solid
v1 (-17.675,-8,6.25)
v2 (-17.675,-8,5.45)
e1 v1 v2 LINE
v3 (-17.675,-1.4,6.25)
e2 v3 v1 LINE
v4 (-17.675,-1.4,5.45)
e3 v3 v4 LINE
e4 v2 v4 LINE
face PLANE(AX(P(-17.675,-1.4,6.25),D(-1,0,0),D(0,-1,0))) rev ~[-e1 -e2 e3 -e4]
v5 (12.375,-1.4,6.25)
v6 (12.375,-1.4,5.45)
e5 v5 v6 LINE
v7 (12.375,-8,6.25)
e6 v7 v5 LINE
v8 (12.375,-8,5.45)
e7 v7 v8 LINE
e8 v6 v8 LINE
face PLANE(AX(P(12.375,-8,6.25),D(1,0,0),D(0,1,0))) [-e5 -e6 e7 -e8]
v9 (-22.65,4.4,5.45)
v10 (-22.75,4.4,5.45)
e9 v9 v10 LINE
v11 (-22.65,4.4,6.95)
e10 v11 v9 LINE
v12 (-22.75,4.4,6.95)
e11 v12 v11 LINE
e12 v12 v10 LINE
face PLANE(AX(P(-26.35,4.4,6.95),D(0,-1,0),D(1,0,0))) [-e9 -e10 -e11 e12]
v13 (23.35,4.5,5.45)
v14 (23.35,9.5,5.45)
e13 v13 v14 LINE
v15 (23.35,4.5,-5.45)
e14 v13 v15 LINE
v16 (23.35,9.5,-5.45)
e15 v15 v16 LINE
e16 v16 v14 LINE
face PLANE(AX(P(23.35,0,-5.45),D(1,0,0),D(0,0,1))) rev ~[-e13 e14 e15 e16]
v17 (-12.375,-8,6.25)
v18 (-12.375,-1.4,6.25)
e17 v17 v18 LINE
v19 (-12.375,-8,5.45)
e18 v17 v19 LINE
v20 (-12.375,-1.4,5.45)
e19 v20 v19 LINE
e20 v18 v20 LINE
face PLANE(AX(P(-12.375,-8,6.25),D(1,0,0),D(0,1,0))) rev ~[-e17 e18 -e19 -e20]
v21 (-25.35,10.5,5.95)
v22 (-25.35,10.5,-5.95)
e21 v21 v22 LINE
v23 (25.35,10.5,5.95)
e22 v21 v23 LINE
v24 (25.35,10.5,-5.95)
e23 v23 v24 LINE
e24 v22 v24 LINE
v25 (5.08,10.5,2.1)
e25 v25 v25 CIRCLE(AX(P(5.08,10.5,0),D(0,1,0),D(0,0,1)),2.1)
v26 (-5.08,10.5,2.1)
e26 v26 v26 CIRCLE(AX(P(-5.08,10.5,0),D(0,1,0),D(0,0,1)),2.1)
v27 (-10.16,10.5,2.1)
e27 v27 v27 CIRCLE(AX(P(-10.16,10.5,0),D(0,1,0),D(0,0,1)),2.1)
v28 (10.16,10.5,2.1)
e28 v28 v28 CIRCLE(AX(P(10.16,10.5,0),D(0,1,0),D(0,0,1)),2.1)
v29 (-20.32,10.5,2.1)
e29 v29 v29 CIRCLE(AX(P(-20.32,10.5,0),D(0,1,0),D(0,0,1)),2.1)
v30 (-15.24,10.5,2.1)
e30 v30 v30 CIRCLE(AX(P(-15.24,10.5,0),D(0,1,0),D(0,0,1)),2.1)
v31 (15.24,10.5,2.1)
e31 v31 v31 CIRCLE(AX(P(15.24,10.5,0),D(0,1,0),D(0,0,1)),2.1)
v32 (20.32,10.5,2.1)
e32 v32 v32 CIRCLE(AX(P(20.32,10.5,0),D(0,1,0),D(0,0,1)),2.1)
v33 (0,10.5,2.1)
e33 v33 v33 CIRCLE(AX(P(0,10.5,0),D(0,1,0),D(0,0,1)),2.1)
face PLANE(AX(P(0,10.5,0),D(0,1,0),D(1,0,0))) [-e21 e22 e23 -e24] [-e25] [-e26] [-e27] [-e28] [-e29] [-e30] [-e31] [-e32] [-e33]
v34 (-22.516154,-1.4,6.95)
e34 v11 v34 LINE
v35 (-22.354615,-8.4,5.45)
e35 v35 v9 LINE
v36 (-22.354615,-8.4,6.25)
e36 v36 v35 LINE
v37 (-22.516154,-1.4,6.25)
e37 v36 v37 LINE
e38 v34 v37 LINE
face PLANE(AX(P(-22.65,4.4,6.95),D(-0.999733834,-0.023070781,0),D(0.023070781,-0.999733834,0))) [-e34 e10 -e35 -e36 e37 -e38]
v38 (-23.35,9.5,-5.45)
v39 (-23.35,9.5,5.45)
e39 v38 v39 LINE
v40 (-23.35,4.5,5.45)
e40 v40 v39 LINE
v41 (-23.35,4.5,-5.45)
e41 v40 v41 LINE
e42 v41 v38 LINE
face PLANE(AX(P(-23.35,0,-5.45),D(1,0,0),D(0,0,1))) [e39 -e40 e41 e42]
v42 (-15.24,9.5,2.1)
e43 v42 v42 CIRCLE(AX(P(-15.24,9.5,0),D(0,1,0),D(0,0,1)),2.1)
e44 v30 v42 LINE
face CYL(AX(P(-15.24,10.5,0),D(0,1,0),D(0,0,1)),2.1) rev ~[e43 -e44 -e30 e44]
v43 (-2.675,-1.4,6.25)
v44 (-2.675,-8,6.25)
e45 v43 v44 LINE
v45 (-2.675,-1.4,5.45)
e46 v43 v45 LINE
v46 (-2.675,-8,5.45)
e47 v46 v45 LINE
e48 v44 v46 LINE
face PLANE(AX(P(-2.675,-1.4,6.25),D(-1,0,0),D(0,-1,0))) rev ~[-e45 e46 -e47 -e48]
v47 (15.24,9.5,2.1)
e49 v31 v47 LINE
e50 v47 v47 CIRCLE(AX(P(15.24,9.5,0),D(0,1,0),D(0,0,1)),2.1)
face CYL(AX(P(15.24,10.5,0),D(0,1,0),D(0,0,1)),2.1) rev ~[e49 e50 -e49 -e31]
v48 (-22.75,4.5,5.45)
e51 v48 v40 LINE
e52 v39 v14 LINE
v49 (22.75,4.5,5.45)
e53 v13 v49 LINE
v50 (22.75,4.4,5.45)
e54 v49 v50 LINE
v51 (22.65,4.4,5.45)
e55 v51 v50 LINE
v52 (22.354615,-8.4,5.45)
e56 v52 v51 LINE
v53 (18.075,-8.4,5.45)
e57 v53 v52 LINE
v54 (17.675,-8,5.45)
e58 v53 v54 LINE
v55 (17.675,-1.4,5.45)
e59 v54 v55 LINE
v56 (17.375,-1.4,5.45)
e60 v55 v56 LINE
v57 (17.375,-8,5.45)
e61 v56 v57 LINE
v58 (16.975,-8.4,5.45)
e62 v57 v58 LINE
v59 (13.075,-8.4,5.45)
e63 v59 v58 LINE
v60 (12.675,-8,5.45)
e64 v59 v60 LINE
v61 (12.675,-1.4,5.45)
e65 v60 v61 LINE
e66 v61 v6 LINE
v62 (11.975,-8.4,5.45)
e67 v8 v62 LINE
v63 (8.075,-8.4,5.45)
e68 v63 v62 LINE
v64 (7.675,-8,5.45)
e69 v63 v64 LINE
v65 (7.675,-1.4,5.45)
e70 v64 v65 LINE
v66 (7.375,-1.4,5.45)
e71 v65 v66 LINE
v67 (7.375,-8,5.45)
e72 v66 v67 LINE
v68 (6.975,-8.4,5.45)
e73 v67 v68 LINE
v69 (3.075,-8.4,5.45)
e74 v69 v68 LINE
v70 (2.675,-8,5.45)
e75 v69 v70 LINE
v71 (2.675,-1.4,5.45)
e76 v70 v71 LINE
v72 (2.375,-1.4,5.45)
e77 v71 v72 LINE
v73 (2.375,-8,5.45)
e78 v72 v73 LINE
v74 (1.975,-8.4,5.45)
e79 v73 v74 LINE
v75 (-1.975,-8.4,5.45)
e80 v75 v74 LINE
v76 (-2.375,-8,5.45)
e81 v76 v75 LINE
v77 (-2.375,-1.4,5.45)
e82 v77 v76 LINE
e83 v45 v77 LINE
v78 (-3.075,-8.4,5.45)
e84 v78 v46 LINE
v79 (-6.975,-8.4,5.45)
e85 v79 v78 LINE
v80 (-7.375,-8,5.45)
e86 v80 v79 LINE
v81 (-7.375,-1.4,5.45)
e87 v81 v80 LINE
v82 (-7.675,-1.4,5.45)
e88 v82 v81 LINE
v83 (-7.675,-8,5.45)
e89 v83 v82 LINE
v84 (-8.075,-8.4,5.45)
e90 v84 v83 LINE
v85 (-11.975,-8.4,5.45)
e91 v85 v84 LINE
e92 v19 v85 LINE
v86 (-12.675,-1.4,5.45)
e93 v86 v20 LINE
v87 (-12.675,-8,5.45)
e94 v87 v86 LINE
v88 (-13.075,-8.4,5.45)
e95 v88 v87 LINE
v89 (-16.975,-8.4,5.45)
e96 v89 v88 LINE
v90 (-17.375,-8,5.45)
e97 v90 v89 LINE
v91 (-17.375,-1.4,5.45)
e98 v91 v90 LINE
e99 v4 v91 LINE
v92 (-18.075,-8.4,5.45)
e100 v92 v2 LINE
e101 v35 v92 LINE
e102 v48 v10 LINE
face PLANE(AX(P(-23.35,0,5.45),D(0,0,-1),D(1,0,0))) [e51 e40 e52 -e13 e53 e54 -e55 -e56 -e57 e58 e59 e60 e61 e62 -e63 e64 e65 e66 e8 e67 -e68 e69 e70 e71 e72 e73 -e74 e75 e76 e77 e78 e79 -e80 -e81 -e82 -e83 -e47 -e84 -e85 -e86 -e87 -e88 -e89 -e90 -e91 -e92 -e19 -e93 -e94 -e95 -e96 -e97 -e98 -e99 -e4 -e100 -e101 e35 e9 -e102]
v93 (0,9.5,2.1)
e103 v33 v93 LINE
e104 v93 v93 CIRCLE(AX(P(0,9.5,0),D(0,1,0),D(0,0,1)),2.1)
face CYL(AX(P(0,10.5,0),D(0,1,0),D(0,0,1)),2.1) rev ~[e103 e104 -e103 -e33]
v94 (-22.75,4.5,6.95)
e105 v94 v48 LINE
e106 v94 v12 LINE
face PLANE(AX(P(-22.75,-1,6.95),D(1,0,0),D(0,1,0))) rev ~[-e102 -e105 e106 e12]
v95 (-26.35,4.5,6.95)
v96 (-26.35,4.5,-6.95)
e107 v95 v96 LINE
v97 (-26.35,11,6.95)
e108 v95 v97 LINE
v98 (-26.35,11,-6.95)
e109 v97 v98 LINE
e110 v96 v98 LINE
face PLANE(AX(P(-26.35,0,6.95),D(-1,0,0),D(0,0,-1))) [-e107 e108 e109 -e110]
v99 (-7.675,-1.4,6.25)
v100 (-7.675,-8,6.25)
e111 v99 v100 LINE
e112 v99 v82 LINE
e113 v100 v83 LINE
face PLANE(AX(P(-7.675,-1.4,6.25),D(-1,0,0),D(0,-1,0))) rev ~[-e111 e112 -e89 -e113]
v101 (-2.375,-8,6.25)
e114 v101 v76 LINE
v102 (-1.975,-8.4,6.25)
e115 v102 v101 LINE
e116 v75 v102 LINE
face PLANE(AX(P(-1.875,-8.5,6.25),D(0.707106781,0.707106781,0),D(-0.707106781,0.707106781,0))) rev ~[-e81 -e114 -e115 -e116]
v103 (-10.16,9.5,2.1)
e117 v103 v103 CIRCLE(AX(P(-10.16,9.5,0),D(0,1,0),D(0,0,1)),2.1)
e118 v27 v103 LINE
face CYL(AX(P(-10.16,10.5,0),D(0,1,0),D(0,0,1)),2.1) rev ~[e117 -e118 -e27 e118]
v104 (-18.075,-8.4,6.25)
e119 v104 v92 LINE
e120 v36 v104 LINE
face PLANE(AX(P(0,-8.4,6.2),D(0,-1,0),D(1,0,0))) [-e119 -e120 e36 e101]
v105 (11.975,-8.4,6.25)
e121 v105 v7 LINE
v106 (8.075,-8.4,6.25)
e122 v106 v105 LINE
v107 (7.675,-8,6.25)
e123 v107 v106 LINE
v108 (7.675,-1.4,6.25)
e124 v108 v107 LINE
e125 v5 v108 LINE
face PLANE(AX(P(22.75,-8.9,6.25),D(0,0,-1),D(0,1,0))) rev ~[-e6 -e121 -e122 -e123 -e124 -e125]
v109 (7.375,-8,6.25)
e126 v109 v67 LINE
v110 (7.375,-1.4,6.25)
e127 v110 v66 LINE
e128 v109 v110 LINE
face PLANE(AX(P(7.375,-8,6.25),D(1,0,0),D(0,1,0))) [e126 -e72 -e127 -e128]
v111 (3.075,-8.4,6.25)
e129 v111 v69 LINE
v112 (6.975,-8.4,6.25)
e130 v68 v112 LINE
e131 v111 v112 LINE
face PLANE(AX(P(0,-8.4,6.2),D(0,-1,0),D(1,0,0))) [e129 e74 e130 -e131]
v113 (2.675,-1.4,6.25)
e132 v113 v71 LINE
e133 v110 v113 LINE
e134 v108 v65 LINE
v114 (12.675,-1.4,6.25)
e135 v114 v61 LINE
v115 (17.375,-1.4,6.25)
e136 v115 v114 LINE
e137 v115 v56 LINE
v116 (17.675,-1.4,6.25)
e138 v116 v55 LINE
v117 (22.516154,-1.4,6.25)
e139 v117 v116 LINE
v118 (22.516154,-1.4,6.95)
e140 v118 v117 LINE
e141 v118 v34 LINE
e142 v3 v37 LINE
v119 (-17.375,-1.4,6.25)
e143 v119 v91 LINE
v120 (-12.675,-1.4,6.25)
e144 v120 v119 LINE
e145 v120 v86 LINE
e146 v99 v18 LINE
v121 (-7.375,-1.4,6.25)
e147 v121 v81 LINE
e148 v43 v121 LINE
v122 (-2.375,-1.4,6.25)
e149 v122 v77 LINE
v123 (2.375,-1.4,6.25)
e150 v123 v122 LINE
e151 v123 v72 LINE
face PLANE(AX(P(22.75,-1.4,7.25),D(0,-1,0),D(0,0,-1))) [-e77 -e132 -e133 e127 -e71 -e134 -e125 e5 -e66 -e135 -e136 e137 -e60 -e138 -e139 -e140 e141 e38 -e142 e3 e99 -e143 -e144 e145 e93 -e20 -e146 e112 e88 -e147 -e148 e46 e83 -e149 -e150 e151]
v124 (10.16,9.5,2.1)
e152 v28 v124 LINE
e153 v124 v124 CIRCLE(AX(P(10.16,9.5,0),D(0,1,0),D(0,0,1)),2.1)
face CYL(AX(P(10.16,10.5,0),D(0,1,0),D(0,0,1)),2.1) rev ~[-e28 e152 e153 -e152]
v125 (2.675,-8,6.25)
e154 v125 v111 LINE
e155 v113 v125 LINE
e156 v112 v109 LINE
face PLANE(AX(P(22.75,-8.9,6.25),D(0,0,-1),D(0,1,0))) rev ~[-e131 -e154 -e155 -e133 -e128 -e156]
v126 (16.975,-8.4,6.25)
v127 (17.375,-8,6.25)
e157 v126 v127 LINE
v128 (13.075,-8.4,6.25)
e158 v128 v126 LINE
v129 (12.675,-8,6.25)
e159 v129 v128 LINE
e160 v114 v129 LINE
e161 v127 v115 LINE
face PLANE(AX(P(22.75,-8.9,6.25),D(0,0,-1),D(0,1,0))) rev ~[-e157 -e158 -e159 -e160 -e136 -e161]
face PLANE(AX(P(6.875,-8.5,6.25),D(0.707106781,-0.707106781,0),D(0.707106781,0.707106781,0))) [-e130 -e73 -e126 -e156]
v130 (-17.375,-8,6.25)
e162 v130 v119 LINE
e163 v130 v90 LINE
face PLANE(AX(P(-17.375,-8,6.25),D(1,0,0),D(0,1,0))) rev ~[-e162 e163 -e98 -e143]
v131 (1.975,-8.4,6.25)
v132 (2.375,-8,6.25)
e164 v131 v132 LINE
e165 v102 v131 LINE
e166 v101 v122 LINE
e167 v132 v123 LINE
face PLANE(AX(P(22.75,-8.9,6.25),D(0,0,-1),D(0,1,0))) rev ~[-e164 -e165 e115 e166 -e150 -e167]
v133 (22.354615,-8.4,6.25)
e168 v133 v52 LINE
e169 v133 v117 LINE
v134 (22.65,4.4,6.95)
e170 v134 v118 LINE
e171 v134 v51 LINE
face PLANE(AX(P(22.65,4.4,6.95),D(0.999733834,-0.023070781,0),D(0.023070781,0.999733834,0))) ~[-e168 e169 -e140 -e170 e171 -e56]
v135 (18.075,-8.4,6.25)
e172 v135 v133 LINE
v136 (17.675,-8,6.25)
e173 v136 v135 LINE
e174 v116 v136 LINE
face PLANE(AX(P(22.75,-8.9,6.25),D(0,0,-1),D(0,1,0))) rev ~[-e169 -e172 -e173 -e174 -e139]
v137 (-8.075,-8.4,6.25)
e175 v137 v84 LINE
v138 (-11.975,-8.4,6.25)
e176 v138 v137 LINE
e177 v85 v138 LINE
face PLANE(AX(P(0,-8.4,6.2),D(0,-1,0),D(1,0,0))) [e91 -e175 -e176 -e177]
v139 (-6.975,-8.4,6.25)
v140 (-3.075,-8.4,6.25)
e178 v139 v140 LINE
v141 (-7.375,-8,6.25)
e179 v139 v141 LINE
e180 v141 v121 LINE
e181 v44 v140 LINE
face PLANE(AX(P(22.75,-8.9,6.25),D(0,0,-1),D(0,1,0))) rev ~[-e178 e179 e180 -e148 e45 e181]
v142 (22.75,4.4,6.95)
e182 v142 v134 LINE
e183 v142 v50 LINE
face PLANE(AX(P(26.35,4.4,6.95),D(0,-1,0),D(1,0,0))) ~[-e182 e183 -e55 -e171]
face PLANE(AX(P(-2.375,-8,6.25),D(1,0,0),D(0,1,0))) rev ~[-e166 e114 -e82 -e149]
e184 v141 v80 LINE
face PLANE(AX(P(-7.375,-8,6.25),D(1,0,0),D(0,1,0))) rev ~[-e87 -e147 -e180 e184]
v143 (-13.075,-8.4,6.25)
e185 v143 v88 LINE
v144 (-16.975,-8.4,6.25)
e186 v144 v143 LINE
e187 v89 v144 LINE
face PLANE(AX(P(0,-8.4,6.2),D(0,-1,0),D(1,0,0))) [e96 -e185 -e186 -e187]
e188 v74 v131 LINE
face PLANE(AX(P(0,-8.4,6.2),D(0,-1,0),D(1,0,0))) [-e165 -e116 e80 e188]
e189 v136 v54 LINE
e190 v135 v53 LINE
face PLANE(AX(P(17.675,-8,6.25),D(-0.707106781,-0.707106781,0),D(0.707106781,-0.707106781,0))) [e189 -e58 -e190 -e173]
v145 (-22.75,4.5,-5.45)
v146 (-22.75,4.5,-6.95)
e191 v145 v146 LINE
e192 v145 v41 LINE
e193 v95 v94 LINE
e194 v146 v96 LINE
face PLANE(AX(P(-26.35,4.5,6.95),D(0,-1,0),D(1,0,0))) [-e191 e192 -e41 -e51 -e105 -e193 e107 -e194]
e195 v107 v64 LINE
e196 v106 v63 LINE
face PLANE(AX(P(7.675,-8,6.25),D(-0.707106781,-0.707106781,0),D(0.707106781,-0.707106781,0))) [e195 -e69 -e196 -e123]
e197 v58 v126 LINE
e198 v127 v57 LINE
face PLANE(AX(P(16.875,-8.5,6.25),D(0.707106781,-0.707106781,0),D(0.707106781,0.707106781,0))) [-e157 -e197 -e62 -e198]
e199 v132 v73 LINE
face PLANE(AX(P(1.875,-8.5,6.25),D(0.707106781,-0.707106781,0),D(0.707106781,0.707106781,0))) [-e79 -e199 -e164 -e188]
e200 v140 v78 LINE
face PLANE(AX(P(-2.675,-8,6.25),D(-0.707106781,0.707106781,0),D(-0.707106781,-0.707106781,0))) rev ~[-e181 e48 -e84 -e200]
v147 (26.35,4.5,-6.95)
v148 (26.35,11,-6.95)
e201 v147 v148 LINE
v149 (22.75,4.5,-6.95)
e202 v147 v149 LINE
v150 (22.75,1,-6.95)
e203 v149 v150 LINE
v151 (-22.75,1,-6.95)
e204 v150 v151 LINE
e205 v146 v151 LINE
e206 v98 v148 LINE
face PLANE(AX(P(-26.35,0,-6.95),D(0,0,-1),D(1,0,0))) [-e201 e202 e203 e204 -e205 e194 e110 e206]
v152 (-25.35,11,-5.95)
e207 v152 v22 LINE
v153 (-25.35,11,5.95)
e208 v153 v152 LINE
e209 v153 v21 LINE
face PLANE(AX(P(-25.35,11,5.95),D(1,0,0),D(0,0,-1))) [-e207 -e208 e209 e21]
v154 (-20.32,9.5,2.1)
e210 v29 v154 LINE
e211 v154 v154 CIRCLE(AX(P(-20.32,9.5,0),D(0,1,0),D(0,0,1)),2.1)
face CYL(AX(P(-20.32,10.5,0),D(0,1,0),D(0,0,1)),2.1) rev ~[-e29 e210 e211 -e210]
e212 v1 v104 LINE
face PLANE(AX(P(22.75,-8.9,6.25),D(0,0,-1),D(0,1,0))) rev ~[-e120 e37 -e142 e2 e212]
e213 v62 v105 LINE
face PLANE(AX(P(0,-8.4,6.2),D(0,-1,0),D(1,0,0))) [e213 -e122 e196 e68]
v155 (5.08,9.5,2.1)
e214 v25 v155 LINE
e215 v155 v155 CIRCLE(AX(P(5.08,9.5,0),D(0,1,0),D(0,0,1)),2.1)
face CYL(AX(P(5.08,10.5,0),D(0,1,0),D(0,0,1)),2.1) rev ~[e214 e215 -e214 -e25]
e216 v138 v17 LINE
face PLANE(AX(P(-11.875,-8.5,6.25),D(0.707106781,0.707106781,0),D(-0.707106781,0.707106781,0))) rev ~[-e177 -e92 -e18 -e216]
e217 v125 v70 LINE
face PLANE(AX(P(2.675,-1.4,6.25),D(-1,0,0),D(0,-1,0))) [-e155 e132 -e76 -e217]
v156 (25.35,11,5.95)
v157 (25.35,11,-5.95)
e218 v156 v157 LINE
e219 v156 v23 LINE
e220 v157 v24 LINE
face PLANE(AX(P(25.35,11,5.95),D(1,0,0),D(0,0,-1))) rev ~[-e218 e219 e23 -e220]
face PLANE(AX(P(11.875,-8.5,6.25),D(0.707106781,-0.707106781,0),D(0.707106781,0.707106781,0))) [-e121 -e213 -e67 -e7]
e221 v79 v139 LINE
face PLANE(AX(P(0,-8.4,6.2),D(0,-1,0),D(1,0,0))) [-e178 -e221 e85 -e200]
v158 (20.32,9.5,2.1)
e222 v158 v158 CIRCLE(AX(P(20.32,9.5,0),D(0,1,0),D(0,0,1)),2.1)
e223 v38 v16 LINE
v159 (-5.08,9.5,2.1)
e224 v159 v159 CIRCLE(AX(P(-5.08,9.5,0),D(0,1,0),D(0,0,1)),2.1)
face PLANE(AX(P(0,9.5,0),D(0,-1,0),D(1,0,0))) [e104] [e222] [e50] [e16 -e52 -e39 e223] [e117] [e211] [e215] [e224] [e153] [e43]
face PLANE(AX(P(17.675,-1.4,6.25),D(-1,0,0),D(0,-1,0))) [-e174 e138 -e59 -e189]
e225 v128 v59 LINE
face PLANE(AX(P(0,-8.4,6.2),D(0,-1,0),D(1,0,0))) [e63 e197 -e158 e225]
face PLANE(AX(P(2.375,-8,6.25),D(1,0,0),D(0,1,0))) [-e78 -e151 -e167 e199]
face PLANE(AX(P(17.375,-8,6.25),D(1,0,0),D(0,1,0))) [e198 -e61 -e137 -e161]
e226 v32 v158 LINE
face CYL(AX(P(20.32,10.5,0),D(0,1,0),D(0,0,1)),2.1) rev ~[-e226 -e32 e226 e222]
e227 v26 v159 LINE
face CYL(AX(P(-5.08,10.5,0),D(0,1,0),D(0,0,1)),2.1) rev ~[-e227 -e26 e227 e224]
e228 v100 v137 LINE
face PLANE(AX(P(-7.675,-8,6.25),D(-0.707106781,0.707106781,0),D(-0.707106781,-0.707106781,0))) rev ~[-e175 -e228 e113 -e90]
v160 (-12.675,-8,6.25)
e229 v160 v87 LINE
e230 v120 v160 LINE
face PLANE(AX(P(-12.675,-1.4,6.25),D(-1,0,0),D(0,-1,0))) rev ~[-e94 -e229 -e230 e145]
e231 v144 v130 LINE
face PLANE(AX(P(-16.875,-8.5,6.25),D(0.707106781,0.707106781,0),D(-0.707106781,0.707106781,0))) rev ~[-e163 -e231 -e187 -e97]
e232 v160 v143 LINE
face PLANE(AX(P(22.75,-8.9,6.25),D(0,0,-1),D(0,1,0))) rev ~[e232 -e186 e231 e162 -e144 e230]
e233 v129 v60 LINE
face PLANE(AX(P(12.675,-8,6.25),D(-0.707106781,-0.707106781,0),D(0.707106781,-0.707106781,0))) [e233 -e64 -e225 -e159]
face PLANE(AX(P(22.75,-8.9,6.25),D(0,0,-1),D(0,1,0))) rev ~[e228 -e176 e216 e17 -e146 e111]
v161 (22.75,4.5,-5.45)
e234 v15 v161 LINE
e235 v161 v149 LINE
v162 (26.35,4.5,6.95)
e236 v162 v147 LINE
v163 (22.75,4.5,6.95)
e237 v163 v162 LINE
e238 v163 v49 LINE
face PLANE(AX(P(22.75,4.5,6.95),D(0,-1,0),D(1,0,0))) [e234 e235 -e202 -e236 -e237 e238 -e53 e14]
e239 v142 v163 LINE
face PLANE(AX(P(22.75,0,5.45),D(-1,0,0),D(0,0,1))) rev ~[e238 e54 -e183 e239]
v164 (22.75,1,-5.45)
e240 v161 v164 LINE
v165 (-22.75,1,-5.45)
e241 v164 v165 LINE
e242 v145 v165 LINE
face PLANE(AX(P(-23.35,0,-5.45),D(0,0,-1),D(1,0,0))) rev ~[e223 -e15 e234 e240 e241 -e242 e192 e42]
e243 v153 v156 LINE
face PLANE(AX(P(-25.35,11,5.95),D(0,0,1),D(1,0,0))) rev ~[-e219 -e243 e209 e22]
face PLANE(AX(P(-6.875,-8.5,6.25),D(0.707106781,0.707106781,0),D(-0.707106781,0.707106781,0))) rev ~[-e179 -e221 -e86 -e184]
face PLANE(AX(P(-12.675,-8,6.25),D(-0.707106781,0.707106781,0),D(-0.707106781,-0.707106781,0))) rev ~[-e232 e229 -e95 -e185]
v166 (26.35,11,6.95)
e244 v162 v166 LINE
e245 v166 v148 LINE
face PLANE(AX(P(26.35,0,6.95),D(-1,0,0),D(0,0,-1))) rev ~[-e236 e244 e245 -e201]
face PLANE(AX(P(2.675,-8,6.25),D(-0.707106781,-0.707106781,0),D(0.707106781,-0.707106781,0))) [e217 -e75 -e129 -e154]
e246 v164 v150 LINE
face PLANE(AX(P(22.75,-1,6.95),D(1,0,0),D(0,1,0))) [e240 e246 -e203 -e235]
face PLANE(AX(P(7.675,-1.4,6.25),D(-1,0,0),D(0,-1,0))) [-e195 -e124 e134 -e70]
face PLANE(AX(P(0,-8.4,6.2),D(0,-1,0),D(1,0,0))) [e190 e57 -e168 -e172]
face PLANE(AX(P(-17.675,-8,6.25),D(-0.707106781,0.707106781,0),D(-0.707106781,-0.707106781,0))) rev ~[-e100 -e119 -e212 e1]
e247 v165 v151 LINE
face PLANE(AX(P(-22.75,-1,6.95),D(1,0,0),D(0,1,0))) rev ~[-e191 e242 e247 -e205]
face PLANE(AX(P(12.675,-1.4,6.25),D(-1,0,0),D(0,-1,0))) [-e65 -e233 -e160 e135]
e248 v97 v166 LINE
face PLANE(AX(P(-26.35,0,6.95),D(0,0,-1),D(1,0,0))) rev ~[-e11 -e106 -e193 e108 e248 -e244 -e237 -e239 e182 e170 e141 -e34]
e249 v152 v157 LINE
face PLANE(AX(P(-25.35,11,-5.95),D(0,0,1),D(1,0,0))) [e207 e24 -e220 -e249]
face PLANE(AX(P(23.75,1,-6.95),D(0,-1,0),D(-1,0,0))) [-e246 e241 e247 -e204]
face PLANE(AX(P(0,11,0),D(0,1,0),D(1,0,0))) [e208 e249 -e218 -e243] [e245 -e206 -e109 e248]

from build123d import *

# Parameters (mm, degrees)
SKETCH_1_W                 = 52.7
SKETCH_1_H                 = 13.9
EXTRUDE_1_DEPTH            = 11
SKETCH_2_W                 = 46.7
SKETCH_2_H                 = 10.9
CUT_EXTRUDE_1_DEPTH        = 9.5
SKETCH_3_W                 = 45.5
SKETCH_3_H                 = 1.5
EXTRUDE_2_DEPTH            = 8.4
SKETCH_4_W                 = 1
SKETCH_4_H                 = 7.5
CUT_EXTRUDE_2_DEPTH        = 51.794807806
CUT_EXTRUDE_3_DEPTH        = 3
PATTERN_LINEAR_1_COUNT     = 4
PATTERN_LINEAR_1_PITCH     = 5
CUT_EXTRUDE_4_DEPTH        = 3
PATTERN_LINEAR_2_COUNT     = 4
PATTERN_LINEAR_2_PITCH     = 5
SKETCH_7_W                 = 3.6
SKETCH_7_H                 = 5.5
CUT_EXTRUDE_5_DEPTH        = 32.757400712
SKETCH_8_W                 = 50.7
SKETCH_8_H                 = 11.9
CUT_EXTRUDE_6_DEPTH        = 0.5
SKETCH_9_R                 = 2.1
CUT_EXTRUDE_7_DEPTH        = 5
PATTERN_LINEAR_3_COUNT     = 5
PATTERN_LINEAR_3_PITCH     = 5.08
PATTERN_LINEAR_3_COL_COUNT = 5
PATTERN_LINEAR_3_COL_PITCH = 5.08
SKETCH_10_W                = 47.5
SKETCH_10_H                = 2
CUT_EXTRUDE_8_DEPTH        = 3
CUT_EXTRUDE_9_DEPTH        = 3


with BuildPart() as part:
    # Эскиз1 → Бобышка-Вытянуть1 (new body)
    with BuildSketch(Plane(origin=(0, 0, 0), x_dir=(1, 0, 0), z_dir=(0, 1, 0))):
        Rectangle(SKETCH_1_W, SKETCH_1_H)
    extrude(amount=EXTRUDE_1_DEPTH)

    # Эскиз2 → Вырез-Вытянуть1 (cut)
    with BuildSketch(Plane.XZ):
        Rectangle(SKETCH_2_W, SKETCH_2_H)
    extrude(amount=-CUT_EXTRUDE_1_DEPTH, mode=Mode.SUBTRACT)

    # Эскиз3 → Бобышка-Вытянуть2 (add)
    with BuildSketch(Plane.XZ):
        with Locations((0, 6.2)):
            Rectangle(SKETCH_3_W, SKETCH_3_H)
    extrude(amount=EXTRUDE_2_DEPTH)

    # Эскиз4 → Вырез-Вытянуть2 (cut, through all)
    with BuildSketch(Plane(origin=(22.75, 0, 0), x_dir=(0, 0, -1), z_dir=(1, 0, 0))):
        with Locations((-6.75, -5.15)):
            Rectangle(SKETCH_4_W, SKETCH_4_H)
    extrude(amount=-CUT_EXTRUDE_2_DEPTH, mode=Mode.SUBTRACT)

    # Эскиз5 → Вырез-Вытянуть3 (cut)
    with BuildSketch(Plane.XY.offset(6.25)):
        Polygon((-2.675, -1.4), (-2.675, -8), (-3.175, -8.5), (-3.675, -8.5), (-3.675, -9.5), (-1.375, -9.5), (-1.375, -8.5), (-1.875, -8.5), (-2.375, -8), (-2.375, -1.4), align=None)
    cut_extrude_3 = extrude(amount=-CUT_EXTRUDE_3_DEPTH, mode=Mode.SUBTRACT)

    # Линейный массив1: Вырез-Вытянуть3 ×4
    with Locations(*[(-i * PATTERN_LINEAR_1_PITCH, 0, 0) for i in range(1, PATTERN_LINEAR_1_COUNT)]):
        add(cut_extrude_3, mode=Mode.SUBTRACT)

    # Эскиз6 → Вырез-Вытянуть4 (cut)
    with BuildSketch(Plane.XY.offset(6.25)):
        Polygon((2.375, -1.4), (2.675, -1.4), (2.675, -8), (3.175, -8.5), (3.675, -8.5), (3.675, -9), (1.375, -9), (1.375, -8.5), (1.875, -8.5), (2.375, -8), align=None)
    cut_extrude_4 = extrude(amount=-CUT_EXTRUDE_4_DEPTH, mode=Mode.SUBTRACT)

    # Линейный массив2: Вырез-Вытянуть4 ×4
    with Locations(*[(i * PATTERN_LINEAR_2_PITCH, 0, 0) for i in range(1, PATTERN_LINEAR_2_COUNT)]):
        add(cut_extrude_4, mode=Mode.SUBTRACT)

    # Эскиз7 → Вырез-Вытянуть5 (cut, through all)
    with BuildSketch(Plane.XY.offset(6.95)):
        with Locations((-24.55, 1.75)):
            Rectangle(SKETCH_7_W, SKETCH_7_H)
        with Locations((24.55, 1.75)):
            Rectangle(SKETCH_7_W, SKETCH_7_H)
    extrude(amount=-CUT_EXTRUDE_5_DEPTH, mode=Mode.SUBTRACT)

    # Эскиз8 → Вырез-Вытянуть6 (cut)
    with BuildSketch(Plane(origin=(0, 11, 0), x_dir=(1, 0, 0), z_dir=(0, 1, 0))):
        Rectangle(SKETCH_8_W, SKETCH_8_H)
    extrude(amount=-CUT_EXTRUDE_6_DEPTH, mode=Mode.SUBTRACT)

    # Эскиз9 → Вырез-Вытянуть7 (cut)
    with BuildSketch(Plane(origin=(0, 10.5, 0), x_dir=(1, 0, 0), z_dir=(0, 1, 0))):
        with Locations(Location((0, 0, 0), (0, 0, 270))):
            Circle(SKETCH_9_R)
    cut_extrude_7 = extrude(amount=-CUT_EXTRUDE_7_DEPTH, mode=Mode.SUBTRACT)

    # Линейный массив3: Вырез-Вытянуть7 ×5
    with Locations(*[(-i * PATTERN_LINEAR_3_PITCH, 0, 0) for i in range(1, PATTERN_LINEAR_3_COUNT)]):
        add(cut_extrude_7, mode=Mode.SUBTRACT)

    # Линейный массив3 col: Вырез-Вытянуть7 ×5
    with Locations(*[(i * PATTERN_LINEAR_3_COL_PITCH, 0, 0) for i in range(1, PATTERN_LINEAR_3_COL_COUNT)]):
        add(cut_extrude_7, mode=Mode.SUBTRACT)

    # Эскиз10 → Вырез-Вытянуть8 (cut)
    with BuildSketch(Plane(origin=(0, 0, -6.95), x_dir=(-1, 0, 0), z_dir=(0, 0, -1))):
        Rectangle(SKETCH_10_W, SKETCH_10_H)
    extrude(amount=-CUT_EXTRUDE_8_DEPTH, mode=Mode.SUBTRACT)

    # Эскиз13 → Вырез-Вытянуть9 (cut)
    with BuildSketch(Plane.XY.offset(6.95)):
        Polygon((-26.35, 4.4), (-22.65, 4.4), (-22.35, -8.6), (-26.35, -8.6), align=None)
    cut_extrude_9 = extrude(amount=-CUT_EXTRUDE_9_DEPTH, mode=Mode.SUBTRACT)

    # Зеркальное отражение1: Вырез-Вытянуть9 across plane
    add(cut_extrude_9.mirror(Plane(origin=(0, 0, 0), x_dir=(0, 0, 1), z_dir=(1, 0, 0))), mode=Mode.SUBTRACT)


solid = part.part
